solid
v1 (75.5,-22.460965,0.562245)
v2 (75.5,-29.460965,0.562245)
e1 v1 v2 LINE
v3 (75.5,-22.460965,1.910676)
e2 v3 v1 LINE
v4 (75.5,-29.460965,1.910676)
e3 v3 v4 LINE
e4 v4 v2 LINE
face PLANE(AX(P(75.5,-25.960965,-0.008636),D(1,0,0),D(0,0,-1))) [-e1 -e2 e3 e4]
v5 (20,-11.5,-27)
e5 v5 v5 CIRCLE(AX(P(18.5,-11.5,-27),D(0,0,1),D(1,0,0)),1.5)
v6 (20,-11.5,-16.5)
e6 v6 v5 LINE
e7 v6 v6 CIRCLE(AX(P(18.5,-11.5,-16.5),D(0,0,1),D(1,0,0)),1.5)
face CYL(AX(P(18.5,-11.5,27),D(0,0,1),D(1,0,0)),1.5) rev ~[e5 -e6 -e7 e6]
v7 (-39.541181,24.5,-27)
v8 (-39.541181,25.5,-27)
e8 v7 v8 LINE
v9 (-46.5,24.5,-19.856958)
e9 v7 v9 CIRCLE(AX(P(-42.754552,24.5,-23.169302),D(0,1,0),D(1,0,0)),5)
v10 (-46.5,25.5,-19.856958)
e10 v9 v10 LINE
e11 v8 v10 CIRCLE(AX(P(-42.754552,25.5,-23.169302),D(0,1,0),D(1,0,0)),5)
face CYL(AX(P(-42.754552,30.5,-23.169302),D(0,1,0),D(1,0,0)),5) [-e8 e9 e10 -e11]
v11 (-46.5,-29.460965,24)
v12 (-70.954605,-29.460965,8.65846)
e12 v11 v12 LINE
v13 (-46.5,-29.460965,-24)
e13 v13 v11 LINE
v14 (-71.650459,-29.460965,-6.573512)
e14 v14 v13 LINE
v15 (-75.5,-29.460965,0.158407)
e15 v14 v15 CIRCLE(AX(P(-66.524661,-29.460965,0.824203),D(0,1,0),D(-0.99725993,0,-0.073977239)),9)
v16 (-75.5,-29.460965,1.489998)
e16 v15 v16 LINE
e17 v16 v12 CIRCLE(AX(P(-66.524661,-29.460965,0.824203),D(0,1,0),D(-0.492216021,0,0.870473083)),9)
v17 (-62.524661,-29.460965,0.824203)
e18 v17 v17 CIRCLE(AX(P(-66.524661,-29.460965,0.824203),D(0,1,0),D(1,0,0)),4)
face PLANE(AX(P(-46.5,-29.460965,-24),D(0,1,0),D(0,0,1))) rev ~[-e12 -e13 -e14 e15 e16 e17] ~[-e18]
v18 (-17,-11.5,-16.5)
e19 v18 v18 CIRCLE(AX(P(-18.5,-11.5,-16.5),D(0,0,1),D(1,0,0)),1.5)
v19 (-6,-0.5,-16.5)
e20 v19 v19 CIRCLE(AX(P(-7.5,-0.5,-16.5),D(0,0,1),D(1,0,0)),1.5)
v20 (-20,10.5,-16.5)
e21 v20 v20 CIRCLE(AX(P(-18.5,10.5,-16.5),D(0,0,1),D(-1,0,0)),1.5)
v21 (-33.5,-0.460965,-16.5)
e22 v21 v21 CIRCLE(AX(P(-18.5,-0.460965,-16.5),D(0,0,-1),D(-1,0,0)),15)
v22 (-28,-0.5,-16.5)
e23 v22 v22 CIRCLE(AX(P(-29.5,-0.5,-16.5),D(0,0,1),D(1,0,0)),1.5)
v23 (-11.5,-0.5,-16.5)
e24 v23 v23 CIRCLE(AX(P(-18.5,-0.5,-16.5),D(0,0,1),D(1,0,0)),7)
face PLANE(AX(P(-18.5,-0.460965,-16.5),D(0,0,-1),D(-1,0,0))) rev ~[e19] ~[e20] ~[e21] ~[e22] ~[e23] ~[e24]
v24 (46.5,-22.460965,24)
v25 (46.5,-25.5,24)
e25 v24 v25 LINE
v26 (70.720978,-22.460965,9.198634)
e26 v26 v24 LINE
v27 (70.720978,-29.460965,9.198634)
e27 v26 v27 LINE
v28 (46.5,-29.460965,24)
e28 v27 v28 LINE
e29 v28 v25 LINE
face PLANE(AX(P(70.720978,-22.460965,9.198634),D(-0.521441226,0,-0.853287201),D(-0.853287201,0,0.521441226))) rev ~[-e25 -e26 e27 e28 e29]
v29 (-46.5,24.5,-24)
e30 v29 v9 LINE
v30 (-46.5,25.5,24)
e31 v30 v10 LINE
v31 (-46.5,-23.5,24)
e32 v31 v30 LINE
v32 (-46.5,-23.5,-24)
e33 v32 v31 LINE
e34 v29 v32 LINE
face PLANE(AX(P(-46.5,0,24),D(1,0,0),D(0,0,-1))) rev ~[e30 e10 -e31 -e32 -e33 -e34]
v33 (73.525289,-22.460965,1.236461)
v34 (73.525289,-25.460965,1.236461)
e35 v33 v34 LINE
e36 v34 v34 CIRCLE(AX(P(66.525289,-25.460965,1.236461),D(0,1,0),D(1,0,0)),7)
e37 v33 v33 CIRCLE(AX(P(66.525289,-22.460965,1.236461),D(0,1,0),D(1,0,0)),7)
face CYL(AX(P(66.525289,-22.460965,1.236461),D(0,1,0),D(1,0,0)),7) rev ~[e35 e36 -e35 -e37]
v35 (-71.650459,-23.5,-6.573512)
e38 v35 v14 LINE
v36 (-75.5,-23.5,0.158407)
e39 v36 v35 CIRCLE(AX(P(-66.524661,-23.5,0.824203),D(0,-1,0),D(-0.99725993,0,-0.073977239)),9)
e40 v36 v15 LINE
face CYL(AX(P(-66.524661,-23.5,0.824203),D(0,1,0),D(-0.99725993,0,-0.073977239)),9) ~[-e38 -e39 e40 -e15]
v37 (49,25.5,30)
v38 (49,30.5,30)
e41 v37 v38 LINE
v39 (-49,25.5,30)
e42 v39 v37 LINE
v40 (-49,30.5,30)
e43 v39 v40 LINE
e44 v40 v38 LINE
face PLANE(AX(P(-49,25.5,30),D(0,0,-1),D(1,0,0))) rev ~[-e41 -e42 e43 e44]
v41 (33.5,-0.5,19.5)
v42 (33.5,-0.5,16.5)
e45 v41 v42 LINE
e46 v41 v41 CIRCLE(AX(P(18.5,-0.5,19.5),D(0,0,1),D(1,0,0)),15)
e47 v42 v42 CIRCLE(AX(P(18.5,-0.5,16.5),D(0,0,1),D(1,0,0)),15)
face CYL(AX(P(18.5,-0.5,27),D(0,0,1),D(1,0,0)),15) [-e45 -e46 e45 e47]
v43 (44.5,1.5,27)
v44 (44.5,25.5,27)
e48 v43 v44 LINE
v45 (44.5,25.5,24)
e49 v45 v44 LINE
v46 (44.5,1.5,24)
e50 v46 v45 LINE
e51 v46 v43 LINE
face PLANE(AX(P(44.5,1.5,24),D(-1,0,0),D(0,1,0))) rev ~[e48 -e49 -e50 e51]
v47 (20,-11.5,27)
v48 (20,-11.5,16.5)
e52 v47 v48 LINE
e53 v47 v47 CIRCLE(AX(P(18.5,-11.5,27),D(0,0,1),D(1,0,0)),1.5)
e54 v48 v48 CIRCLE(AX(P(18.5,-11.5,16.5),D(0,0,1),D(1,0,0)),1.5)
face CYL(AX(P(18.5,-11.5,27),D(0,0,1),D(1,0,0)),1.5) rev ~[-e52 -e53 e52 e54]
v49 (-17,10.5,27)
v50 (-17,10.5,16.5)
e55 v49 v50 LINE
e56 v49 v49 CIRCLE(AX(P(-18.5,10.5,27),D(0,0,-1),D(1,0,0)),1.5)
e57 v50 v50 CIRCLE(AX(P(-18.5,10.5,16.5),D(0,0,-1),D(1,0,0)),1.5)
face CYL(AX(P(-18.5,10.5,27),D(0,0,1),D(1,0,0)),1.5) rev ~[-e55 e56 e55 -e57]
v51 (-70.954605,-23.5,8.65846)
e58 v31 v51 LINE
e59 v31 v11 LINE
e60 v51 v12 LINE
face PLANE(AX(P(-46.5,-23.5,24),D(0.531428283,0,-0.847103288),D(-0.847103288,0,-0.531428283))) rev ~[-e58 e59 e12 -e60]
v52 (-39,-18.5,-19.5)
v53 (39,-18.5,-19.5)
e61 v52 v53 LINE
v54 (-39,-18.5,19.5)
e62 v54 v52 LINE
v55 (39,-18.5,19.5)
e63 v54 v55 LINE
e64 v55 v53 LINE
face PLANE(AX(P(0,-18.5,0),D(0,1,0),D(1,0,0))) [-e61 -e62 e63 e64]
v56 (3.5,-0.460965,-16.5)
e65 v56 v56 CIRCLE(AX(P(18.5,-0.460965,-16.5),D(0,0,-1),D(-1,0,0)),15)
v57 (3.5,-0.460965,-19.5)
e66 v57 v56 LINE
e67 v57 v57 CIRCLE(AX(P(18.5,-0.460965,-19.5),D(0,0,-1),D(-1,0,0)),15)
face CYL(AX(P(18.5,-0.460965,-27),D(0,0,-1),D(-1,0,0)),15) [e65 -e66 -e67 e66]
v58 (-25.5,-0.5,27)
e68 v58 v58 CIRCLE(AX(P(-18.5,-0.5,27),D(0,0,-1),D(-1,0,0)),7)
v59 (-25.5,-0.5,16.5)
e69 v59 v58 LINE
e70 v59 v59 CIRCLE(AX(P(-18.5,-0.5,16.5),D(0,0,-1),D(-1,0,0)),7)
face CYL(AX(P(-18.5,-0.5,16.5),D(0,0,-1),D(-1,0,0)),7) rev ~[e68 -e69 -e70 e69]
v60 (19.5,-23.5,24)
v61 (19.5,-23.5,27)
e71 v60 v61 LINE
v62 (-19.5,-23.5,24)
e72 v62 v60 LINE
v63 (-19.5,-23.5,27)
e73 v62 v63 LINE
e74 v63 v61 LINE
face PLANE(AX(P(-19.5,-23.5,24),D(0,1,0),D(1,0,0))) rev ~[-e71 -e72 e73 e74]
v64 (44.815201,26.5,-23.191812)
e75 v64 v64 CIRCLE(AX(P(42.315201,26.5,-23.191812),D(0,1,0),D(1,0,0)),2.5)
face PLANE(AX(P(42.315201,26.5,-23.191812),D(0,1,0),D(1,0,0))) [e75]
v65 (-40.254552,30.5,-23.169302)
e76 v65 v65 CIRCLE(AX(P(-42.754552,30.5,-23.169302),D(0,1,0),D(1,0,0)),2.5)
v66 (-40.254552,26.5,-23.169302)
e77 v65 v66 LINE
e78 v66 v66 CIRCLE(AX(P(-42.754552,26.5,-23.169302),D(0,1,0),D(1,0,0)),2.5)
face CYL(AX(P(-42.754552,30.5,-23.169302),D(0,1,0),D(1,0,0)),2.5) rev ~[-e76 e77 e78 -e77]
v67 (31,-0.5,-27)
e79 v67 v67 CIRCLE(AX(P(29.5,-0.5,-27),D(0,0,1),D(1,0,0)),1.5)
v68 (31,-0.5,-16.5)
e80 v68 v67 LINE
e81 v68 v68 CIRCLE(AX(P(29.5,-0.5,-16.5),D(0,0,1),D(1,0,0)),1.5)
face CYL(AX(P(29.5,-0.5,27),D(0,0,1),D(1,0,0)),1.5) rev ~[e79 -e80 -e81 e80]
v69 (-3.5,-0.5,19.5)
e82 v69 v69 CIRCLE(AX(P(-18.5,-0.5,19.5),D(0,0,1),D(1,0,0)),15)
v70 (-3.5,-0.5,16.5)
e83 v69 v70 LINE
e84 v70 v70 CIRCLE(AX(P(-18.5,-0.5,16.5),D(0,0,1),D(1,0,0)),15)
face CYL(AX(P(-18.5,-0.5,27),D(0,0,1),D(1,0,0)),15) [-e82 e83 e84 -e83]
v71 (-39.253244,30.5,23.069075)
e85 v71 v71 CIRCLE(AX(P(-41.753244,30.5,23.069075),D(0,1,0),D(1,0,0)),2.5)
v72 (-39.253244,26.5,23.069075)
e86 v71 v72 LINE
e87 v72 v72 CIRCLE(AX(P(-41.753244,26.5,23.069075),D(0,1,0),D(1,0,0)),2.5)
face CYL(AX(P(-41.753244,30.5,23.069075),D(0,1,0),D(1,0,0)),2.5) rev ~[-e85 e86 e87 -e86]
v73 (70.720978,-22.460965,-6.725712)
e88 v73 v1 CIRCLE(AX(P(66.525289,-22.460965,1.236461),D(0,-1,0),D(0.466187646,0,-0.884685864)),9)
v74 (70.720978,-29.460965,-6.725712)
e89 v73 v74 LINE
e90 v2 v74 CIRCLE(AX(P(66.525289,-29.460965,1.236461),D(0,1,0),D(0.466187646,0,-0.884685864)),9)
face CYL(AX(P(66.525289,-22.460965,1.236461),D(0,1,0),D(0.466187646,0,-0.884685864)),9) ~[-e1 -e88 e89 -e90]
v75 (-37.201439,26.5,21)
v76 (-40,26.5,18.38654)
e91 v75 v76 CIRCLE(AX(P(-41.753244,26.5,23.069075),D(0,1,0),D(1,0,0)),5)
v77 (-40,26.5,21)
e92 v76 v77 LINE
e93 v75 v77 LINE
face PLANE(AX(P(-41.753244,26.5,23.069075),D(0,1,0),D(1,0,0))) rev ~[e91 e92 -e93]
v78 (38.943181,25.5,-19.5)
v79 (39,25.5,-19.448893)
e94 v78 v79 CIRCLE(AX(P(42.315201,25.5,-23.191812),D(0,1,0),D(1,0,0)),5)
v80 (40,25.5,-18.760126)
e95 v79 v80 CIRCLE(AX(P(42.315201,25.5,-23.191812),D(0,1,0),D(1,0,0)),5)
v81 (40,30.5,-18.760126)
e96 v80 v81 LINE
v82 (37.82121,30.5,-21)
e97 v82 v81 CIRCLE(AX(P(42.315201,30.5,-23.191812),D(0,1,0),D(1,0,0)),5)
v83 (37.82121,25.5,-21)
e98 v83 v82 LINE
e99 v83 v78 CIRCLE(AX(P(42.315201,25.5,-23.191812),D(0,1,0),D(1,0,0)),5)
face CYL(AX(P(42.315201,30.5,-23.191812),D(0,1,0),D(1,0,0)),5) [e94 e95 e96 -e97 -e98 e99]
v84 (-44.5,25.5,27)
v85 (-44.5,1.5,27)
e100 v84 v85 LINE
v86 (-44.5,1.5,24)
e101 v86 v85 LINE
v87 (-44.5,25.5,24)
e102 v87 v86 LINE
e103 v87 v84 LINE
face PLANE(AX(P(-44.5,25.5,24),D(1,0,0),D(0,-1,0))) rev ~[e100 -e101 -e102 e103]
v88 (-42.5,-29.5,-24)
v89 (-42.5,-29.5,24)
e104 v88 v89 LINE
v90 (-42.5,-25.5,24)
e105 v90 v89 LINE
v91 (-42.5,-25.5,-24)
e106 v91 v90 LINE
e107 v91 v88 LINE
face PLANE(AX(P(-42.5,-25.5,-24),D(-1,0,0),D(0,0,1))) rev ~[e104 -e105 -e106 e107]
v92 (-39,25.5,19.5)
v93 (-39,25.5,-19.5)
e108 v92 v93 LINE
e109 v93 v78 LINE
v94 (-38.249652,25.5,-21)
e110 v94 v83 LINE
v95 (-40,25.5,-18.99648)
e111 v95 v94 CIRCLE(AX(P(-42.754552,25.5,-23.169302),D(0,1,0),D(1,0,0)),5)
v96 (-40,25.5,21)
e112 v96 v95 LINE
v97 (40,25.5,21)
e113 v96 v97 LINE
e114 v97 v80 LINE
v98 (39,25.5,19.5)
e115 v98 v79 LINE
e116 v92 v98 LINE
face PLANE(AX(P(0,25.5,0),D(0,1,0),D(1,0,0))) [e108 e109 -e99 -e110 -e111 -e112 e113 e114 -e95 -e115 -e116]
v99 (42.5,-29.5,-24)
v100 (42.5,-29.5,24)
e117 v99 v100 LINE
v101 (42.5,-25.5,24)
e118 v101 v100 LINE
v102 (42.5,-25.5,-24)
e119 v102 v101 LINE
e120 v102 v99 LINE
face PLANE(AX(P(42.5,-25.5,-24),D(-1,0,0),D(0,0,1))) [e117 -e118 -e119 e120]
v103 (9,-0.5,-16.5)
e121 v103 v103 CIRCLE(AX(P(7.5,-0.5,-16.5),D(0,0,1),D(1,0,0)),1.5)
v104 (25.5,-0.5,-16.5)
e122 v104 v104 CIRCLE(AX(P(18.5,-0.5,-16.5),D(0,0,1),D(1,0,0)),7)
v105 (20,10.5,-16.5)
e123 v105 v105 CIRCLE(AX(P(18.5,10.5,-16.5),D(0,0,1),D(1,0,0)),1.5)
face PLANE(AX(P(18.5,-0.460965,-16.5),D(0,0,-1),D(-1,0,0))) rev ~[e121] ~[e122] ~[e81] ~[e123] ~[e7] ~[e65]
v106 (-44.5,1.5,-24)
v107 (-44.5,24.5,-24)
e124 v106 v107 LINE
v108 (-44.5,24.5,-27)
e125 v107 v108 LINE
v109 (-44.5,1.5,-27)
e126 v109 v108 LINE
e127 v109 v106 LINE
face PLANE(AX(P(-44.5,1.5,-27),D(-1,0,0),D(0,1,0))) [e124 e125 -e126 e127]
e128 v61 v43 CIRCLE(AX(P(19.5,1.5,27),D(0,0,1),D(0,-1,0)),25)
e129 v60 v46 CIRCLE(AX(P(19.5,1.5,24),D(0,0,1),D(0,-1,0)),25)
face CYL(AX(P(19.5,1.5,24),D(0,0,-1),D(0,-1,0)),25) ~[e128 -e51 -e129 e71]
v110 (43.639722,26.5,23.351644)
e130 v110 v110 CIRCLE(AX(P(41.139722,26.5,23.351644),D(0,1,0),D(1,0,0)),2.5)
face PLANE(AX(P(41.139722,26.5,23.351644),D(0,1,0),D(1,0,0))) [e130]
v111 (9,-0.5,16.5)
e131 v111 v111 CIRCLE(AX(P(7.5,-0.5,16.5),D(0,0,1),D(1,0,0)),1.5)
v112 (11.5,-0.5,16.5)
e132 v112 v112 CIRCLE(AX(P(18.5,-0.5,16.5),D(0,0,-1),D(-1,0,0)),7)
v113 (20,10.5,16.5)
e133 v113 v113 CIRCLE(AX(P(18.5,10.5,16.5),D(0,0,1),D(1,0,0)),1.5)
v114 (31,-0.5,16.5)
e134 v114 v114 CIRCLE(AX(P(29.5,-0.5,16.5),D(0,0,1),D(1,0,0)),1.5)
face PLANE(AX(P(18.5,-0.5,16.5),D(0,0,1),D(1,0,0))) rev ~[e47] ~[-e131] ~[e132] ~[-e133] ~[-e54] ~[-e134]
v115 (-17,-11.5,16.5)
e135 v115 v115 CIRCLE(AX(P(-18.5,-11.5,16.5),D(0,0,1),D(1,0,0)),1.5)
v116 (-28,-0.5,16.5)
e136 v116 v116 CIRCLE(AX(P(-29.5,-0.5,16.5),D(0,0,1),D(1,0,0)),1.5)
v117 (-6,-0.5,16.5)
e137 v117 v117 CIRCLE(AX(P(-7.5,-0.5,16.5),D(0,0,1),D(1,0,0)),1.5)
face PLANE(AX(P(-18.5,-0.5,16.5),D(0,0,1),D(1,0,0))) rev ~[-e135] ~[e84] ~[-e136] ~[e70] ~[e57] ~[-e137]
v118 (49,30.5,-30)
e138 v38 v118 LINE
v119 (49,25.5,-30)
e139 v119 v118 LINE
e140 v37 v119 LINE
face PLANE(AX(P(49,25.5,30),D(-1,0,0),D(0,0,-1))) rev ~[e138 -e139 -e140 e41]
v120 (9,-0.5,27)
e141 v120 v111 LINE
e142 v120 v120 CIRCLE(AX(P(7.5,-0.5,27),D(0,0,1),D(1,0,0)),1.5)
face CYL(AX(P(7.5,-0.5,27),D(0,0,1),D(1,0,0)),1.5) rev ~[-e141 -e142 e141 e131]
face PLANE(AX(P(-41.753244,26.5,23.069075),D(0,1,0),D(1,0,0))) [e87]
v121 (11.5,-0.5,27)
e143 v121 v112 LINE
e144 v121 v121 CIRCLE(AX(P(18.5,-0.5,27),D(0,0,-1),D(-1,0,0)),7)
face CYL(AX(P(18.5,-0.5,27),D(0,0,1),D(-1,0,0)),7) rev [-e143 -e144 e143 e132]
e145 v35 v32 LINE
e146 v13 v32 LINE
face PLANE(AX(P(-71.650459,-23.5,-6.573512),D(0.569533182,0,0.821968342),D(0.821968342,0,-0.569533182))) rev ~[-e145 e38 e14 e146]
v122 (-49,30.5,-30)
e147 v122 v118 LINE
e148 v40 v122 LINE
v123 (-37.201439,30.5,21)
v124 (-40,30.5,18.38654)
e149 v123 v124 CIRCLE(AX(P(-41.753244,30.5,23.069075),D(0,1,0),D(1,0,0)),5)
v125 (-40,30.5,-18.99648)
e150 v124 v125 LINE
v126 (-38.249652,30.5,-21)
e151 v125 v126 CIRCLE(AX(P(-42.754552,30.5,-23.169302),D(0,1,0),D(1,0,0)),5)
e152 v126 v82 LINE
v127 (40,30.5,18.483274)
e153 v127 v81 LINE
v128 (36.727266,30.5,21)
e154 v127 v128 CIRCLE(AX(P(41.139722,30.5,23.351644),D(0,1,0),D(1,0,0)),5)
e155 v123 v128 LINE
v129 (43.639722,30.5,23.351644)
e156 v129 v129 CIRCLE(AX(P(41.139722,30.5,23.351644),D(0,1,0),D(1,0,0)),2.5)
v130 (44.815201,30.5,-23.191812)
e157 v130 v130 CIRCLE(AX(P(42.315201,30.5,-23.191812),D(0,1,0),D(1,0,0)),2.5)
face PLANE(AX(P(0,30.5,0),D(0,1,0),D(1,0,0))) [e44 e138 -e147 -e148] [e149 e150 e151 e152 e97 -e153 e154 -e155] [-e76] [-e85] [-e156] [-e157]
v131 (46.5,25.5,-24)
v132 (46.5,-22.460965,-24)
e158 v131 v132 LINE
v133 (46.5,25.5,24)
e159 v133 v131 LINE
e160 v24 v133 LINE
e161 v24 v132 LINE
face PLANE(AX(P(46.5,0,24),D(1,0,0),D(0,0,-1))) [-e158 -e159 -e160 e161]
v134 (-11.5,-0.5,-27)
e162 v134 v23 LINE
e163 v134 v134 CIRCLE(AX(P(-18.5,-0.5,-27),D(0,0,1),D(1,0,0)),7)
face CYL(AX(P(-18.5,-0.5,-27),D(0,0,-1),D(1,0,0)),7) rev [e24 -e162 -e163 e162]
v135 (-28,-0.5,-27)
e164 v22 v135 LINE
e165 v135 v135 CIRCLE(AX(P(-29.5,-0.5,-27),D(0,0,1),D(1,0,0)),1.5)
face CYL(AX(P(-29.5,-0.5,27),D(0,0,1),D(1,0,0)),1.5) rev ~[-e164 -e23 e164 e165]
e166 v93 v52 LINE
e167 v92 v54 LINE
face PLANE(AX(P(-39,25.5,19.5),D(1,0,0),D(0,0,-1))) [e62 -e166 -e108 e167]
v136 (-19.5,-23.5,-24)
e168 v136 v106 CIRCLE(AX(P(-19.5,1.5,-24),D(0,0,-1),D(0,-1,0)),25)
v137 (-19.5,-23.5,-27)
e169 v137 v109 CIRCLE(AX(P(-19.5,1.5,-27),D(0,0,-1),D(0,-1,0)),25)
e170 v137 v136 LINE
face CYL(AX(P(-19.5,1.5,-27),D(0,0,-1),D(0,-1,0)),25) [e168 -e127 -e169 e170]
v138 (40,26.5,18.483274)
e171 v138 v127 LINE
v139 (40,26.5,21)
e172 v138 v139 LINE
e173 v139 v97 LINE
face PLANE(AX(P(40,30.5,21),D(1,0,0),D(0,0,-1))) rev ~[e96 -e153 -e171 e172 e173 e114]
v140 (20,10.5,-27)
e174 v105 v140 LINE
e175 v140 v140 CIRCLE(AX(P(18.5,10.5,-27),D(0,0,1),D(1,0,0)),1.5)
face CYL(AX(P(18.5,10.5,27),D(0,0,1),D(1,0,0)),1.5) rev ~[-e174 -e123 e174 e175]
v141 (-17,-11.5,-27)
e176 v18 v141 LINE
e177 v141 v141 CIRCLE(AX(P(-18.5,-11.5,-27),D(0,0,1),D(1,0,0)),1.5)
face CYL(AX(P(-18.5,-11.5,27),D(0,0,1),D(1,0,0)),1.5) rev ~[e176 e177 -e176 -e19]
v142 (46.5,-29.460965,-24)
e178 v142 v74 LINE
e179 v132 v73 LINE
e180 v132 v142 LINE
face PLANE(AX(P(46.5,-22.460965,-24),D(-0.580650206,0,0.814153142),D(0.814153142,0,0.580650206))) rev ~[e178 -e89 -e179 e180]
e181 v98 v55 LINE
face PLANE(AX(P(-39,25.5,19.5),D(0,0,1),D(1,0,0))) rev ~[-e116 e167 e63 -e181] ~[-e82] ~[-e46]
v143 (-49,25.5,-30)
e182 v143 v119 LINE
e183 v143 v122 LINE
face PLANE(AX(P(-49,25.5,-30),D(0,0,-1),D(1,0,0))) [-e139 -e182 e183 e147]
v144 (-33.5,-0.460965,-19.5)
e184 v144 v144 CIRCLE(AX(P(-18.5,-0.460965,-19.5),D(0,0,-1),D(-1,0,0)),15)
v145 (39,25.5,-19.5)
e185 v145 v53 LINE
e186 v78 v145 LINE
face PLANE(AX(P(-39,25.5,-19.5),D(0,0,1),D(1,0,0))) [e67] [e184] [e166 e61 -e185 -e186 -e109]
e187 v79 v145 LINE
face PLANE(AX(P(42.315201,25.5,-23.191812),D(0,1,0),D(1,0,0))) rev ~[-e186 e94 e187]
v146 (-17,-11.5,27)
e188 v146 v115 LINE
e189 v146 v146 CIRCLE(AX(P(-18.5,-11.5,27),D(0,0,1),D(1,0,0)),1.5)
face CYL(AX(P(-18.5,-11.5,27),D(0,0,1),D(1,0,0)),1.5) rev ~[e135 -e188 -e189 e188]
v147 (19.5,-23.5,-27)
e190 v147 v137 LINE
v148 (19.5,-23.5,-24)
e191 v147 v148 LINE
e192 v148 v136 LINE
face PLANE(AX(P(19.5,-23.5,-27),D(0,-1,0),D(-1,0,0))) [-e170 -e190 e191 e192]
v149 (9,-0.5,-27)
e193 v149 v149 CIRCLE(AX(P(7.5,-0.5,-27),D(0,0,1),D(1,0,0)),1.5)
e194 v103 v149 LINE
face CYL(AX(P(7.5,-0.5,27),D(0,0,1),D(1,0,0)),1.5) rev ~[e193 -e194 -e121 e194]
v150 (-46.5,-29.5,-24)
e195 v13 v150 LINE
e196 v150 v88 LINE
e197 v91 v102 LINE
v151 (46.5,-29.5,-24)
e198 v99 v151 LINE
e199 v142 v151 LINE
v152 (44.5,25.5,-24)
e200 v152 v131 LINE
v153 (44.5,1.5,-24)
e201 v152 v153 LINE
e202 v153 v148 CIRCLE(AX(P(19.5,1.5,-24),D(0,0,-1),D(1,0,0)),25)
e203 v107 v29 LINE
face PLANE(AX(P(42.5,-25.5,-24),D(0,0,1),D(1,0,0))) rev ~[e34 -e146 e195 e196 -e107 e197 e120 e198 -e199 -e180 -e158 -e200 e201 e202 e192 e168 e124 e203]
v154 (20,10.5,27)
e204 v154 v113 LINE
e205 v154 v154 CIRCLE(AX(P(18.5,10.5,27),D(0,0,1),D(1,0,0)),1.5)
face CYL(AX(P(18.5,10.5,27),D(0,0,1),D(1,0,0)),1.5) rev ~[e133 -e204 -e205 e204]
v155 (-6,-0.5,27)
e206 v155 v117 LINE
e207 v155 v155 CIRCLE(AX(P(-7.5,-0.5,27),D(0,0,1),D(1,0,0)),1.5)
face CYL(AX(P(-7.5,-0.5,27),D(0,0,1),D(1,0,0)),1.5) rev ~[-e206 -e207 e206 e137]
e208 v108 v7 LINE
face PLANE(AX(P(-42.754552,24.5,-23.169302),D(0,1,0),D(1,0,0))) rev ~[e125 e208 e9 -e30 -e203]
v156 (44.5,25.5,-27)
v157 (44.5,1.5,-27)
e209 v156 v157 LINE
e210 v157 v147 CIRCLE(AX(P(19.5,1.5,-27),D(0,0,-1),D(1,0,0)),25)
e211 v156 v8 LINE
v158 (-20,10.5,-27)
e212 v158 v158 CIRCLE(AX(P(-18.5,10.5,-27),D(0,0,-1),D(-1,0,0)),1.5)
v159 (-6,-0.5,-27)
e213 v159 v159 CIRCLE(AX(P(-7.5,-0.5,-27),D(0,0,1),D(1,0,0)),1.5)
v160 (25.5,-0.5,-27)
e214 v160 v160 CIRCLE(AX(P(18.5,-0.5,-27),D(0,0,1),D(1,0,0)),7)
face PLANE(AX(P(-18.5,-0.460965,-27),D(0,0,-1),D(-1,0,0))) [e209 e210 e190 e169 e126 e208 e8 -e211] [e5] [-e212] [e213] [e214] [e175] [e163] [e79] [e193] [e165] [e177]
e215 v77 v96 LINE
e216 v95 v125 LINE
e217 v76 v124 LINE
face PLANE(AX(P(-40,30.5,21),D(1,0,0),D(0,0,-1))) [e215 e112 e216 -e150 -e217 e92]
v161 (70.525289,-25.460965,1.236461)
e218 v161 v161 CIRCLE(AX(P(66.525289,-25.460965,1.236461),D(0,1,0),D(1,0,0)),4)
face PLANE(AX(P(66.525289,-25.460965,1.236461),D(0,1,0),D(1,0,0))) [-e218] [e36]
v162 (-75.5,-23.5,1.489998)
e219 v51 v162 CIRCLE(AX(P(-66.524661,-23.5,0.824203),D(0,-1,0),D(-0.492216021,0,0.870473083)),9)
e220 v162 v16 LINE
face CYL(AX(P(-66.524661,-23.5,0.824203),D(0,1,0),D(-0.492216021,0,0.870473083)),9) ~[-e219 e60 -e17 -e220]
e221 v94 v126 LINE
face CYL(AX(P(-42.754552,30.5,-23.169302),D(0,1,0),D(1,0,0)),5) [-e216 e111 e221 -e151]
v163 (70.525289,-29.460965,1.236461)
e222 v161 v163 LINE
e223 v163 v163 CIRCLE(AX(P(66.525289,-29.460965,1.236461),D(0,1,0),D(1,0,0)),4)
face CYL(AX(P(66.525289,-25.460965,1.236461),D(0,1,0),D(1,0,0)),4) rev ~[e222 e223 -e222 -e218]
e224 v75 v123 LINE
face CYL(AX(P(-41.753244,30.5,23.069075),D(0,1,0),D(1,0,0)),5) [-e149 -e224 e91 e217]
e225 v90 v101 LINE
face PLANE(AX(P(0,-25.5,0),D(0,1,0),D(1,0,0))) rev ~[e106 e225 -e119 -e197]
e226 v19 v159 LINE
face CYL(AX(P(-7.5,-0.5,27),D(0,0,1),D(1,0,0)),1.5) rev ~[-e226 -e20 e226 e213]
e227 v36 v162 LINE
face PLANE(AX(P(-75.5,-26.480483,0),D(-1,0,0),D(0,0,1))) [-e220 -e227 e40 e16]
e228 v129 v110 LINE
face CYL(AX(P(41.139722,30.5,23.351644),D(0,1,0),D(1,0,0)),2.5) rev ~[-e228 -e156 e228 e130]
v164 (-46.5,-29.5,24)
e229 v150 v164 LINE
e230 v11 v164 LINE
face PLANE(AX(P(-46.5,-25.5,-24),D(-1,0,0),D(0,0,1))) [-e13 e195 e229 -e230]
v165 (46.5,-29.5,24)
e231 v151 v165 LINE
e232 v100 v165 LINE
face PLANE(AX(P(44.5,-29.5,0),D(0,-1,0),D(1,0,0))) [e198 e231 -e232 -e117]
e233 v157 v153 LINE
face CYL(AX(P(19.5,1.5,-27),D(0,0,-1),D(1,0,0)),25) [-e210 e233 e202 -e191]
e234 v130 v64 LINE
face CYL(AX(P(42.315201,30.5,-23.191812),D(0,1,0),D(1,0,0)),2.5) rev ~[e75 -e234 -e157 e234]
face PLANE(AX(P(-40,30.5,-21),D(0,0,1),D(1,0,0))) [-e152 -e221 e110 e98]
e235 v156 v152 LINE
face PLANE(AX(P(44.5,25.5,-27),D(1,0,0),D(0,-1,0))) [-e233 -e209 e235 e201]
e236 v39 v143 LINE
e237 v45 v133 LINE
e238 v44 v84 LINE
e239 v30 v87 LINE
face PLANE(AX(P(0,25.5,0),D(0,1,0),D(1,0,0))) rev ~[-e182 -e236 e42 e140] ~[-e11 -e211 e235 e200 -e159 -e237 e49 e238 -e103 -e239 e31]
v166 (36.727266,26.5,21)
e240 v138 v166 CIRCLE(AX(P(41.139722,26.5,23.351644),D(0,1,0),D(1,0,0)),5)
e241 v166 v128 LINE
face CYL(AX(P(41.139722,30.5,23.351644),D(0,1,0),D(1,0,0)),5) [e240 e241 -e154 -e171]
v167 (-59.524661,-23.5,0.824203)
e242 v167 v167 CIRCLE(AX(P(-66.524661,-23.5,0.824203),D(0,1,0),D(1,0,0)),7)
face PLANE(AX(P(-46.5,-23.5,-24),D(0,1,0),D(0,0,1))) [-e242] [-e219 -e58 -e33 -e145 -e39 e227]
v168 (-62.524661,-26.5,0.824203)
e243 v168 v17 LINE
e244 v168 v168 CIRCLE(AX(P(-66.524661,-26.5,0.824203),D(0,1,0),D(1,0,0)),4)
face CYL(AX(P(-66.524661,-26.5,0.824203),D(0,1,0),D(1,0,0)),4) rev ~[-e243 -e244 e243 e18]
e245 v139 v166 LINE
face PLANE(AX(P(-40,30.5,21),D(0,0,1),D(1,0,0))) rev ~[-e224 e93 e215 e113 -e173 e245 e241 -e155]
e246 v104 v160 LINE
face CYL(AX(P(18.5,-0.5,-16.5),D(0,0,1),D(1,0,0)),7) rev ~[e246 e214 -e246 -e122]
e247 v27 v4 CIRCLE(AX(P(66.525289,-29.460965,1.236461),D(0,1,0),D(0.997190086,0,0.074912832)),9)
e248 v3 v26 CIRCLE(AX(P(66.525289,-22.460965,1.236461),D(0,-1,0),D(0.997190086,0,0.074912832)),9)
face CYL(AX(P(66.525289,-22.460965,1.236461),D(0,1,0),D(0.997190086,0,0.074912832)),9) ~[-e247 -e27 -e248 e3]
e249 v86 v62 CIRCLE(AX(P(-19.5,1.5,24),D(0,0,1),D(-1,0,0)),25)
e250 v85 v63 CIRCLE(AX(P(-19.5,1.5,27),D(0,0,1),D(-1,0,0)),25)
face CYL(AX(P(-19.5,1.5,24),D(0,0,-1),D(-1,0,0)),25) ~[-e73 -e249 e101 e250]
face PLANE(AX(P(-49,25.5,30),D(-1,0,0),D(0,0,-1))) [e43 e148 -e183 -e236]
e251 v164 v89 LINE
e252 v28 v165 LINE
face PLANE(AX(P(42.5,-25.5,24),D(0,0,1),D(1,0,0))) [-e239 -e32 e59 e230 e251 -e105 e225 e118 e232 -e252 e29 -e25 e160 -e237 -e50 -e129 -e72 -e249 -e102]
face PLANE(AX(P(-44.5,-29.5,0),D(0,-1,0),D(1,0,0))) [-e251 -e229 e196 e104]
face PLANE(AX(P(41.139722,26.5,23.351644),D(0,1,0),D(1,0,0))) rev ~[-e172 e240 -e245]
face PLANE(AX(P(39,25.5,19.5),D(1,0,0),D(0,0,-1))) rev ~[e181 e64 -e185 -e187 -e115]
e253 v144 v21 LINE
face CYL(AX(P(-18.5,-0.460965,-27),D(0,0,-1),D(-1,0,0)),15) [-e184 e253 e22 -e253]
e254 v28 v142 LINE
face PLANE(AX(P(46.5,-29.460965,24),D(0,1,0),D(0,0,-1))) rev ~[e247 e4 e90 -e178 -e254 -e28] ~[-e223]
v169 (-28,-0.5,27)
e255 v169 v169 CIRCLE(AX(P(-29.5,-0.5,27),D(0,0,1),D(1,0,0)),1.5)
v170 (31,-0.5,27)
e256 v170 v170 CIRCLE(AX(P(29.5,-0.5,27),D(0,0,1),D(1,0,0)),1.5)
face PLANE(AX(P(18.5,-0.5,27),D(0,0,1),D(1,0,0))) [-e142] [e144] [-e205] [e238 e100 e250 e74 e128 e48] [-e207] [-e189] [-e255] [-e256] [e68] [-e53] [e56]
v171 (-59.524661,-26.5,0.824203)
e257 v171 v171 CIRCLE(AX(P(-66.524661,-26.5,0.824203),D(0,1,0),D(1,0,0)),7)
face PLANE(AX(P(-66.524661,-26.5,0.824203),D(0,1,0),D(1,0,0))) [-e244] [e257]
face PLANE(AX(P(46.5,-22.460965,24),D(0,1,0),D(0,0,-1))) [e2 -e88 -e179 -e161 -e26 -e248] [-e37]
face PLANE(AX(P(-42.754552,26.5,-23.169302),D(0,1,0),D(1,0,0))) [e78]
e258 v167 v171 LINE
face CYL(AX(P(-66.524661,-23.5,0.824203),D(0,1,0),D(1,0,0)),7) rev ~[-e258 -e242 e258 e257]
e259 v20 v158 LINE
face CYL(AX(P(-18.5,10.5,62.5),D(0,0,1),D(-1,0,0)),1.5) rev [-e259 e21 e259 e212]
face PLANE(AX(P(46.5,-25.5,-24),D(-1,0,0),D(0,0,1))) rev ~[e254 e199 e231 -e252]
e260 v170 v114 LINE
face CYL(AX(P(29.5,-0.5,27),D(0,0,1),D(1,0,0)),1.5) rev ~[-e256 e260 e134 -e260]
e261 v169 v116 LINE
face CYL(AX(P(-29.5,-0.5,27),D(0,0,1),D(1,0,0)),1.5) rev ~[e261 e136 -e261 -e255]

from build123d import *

# Parameters (mm, degrees)
SKETCH1_W            = 93
SKETCH1_H            = 48
BOSS_EXTRUDE1_DEPTH  = 25.5
BOSS_EXTRUDE4_DEPTH  = 3
BOSS_EXTRUDE5_START  = 3
BOSS_EXTRUDE5_DEPTH  = 3
SKETCH5_W            = 78
SKETCH5_H            = 39
CUT_EXTRUDE1_DEPTH   = 44
SKETCH6_W            = 48.017272351
SKETCH6_H            = 7
BOSS_EXTRUDE6_DEPTH  = 29
SKETCH7_W            = 48
SKETCH7_H            = 5.960965096
BOSS_EXTRUDE7_DEPTH  = 29
CUT_EXTRUDE2_DEPTH   = 29
CUT_EXTRUDE3_DEPTH   = 29
SKETCH10_R           = 15
BOSS_EXTRUDE8_DEPTH  = 10.5
SKETCH11_R           = 15
BOSS_EXTRUDE9_DEPTH  = 10.5
SKETCH12_W           = 4
SKETCH12_H           = 48
BOSS_EXTRUDE10_DEPTH = 4
SKETCH13_W           = 4
SKETCH13_H           = 48
BOSS_EXTRUDE11_DEPTH = 4
SKETCH14_R           = 15
BOSS_EXTRUDE12_DEPTH = 10.5
SKETCH15_R           = 15
BOSS_EXTRUDE13_DEPTH = 10.5
SKETCH17_R           = 7
CUT_EXTRUDE4_DEPTH   = 10.5
CUT_EXTRUDE5_START   = -10.5
SKETCH18_R           = 7
CUT_EXTRUDE5_DEPTH   = 10.5
SKETCH19_R           = 7
CUT_EXTRUDE6_DEPTH   = 10.5
CUT_EXTRUDE7_START   = -10.5
SKETCH20_R           = 7
CUT_EXTRUDE7_DEPTH   = 10.5
SKETCH21_R           = 1.5
CUT_EXTRUDE8_DEPTH   = 10.5
SKETCH22_R           = 1.5
CUT_EXTRUDE9_DEPTH   = 89.5
SKETCH23_R           = 1.5
CUT_EXTRUDE10_DEPTH  = 89.5
SKETCH24_R           = 1.5
CUT_EXTRUDE11_DEPTH  = 89.5
CUT_EXTRUDE12_START  = -89.5
SKETCH25_R           = 1.5
CUT_EXTRUDE12_DEPTH  = 89.5
SKETCH26_R           = 1.5
CUT_EXTRUDE13_DEPTH  = 89.5
SKETCH27_R           = 1.5
CUT_EXTRUDE14_DEPTH  = 89.5
SKETCH28_R           = 1.5
CUT_EXTRUDE15_DEPTH  = 89.5
SKETCH29_R           = 1.5
CUT_EXTRUDE16_DEPTH  = 89.5
SKETCH30_W           = 98
SKETCH30_H           = 60
BOSS_EXTRUDE14_DEPTH = 5
SKETCH31_W           = 80
SKETCH31_H           = 42
CUT_EXTRUDE18_DEPTH  = 5
SKETCH32_R           = 5
BOSS_EXTRUDE16_DEPTH = 4
SKETCH33_R           = 5
BOSS_EXTRUDE18_DEPTH = 6
SKETCH34_R           = 5
BOSS_EXTRUDE19_DEPTH = 5
SKETCH35_R           = 5
BOSS_EXTRUDE20_DEPTH = 4
SKETCH36_R           = 2.5
CUT_EXTRUDE19_DEPTH  = 4
SKETCH37_R           = 2.5
CUT_EXTRUDE20_DEPTH  = 4
SKETCH38_R           = 2.5
CUT_EXTRUDE21_DEPTH  = 4
SKETCH39_R           = 2.5
CUT_EXTRUDE22_DEPTH  = 4
SKETCH40_R           = 7
CUT_EXTRUDE23_DEPTH  = 3
SKETCH41_R           = 7
CUT_EXTRUDE24_DEPTH  = 3
SKETCH42_R           = 4
CUT_EXTRUDE25_DEPTH  = 3
SKETCH43_R           = 4
CUT_EXTRUDE26_DEPTH  = 4


with BuildPart() as part:
    # Sketch1 → Boss-Extrude1 (new, symmetric)
    with BuildSketch(Plane(origin=(0, 0, 0), x_dir=(1, 0, 0), z_dir=(0, 1, 0))):
        Rectangle(SKETCH1_W, SKETCH1_H)
    extrude(amount=BOSS_EXTRUDE1_DEPTH, both=True)

    # Sketch3 → Boss-Extrude4 (add)
    with BuildSketch(Plane.XY.offset(24)):
        with BuildLine():
            Line((-44.5, 25.5), (-44.5, 1.5))
            ThreePointArc((-44.5, 1.5), (-37.17766953, -16.17766953), (-19.5, -23.5))
            Line((-19.5, -23.5), (19.5, -23.5))
            ThreePointArc((19.5, -23.5), (37.17766953, -16.17766953), (44.5, 1.5))
            Line((44.5, 1.5), (44.5, 25.5))
            Line((44.5, 25.5), (-44.5, 25.5))
        make_face()
    extrude(amount=BOSS_EXTRUDE4_DEPTH)

    # Sketch4 → Boss-Extrude5 (add)
    with BuildSketch(Plane(origin=(0, 0, -24), x_dir=(-1, 0, 0), z_dir=(0, 0, -1)).offset(BOSS_EXTRUDE5_START)):
        with BuildLine():
            Line((-44.5, 25.5), (-44.5, 1.5))
            ThreePointArc((-44.5, 1.5), (-37.17766953, -16.17766953), (-19.5, -23.5))
            Line((-19.5, -23.5), (19.5, -23.5))
            ThreePointArc((19.5, -23.5), (37.17766953, -16.17766953), (44.5, 1.5))
            Line((44.5, 1.5), (44.5, 25.5))
            Line((44.5, 25.5), (-44.5, 25.5))
        make_face()
    extrude(amount=-BOSS_EXTRUDE5_DEPTH)

    # Sketch5 → Cut-Extrude1 (cut)
    with BuildSketch(Plane(origin=(0, 25.5, 0), x_dir=(1, 0, 0), z_dir=(0, 1, 0))):
        Rectangle(SKETCH5_W, SKETCH5_H)
    extrude(amount=-CUT_EXTRUDE1_DEPTH, mode=Mode.SUBTRACT)

    # Sketch6 → Boss-Extrude6 (add)
    with BuildSketch(Plane(origin=(46.5, 0, 0), x_dir=(0, 0, -1), z_dir=(1, 0, 0))):
        with Locations((0.008636176, -25.960965096)):
            Rectangle(SKETCH6_W, SKETCH6_H)
    extrude(amount=BOSS_EXTRUDE6_DEPTH)

    # Sketch7 → Boss-Extrude7 (add)
    with BuildSketch(Plane.ZY.offset(46.5)):
        with Locations((0, -26.480482548)):
            Rectangle(SKETCH7_W, SKETCH7_H)
    extrude(amount=BOSS_EXTRUDE7_DEPTH)

    # Sketch8 → Cut-Extrude2 (cut)
    with BuildSketch(Plane(origin=(0, -22.460965096, 0), x_dir=(1, 0, 0), z_dir=(0, 1, 0))):
        with BuildLine():
            Line((75.5, -24), (75.5, -1.910676326))
            ThreePointArc((75.5, -1.910676326), (74.051472635, -6.171697745), (70.72097804, -9.198633622))
            Line((70.72097804, -9.198633622), (46.5, -24))
            Line((46.5, -24), (75.5, -24))
        make_face()
        with BuildLine():
            Line((46.5, 24), (70.72097804, 6.725711938))
            ThreePointArc((70.72097804, 6.725711938), (74.051472635, 3.698776061), (75.5, -0.562245358))
            Line((75.5, -0.562245358), (75.5, 24.017272351))
            Line((75.5, 24.017272351), (46.5, 24.017272351))
            Line((46.5, 24.017272351), (46.5, 24))
        make_face()
    extrude(amount=-CUT_EXTRUDE2_DEPTH, mode=Mode.SUBTRACT)

    # Sketch9 → Cut-Extrude3 (cut)
    with BuildSketch(Plane(origin=(0, -23.5, 0), x_dir=(1, 0, 0), z_dir=(0, 1, 0))):
        with BuildLine():
            ThreePointArc((-75.5, -0.15840749), (-74.337484046, 3.643435469), (-71.650459264, 6.57351244))
            Line((-71.650459264, 6.57351244), (-46.5, 24))
            Line((-46.5, 24), (-75.5, 24))
            Line((-75.5, 24), (-75.5, -0.15840749))
        make_face()
        with BuildLine():
            Line((-46.5, -24), (-70.954604818, -8.658460386))
            ThreePointArc((-70.954604818, -8.658460386), (-74.125458012, -5.643733646), (-75.5, -1.489997784))
            Line((-75.5, -1.489997784), (-75.5, -24))
            Line((-75.5, -24), (-46.5, -24))
        make_face()
    extrude(amount=-CUT_EXTRUDE3_DEPTH, mode=Mode.SUBTRACT)

    # Sketch10 → Boss-Extrude8 (add)
    with BuildSketch(Plane(origin=(0, 0, -27), x_dir=(-1, 0, 0), z_dir=(0, 0, -1))):
        with Locations((-18.5, -0.460965096)):
            Circle(SKETCH10_R)
    extrude(amount=-BOSS_EXTRUDE8_DEPTH)

    # Sketch11 → Boss-Extrude9 (add)
    with BuildSketch(Plane(origin=(0, 0, -27), x_dir=(-1, 0, 0), z_dir=(0, 0, -1))):
        with Locations((18.5, -0.460965096)):
            Circle(SKETCH11_R)
    extrude(amount=-BOSS_EXTRUDE9_DEPTH)

    # Sketch12 → Boss-Extrude10 (add)
    with BuildSketch(Plane.XZ.offset(25.5)):
        with Locations((-44.5, 0)):
            Rectangle(SKETCH12_W, SKETCH12_H)
    extrude(amount=BOSS_EXTRUDE10_DEPTH)

    # Sketch13 → Boss-Extrude11 (add)
    with BuildSketch(Plane.XZ.offset(25.5)):
        with Locations((44.5, 0)):
            Rectangle(SKETCH13_W, SKETCH13_H)
    extrude(amount=BOSS_EXTRUDE11_DEPTH)

    # Sketch14 → Boss-Extrude12 (add)
    with BuildSketch(Plane.XY.offset(27)):
        with Locations((-18.5, -0.5)):
            Circle(SKETCH14_R)
    extrude(amount=-BOSS_EXTRUDE12_DEPTH)

    # Sketch15 → Boss-Extrude13 (add)
    with BuildSketch(Plane.XY.offset(27)):
        with Locations((18.5, -0.5)):
            Circle(SKETCH15_R)
    extrude(amount=-BOSS_EXTRUDE13_DEPTH)

    # Sketch17 → Cut-Extrude4 (cut)
    with BuildSketch(Plane(origin=(0, 0, 16.5), x_dir=(-1, 0, 0), z_dir=(0, 0, -1))):
        with Locations((18.5, -0.5)):
            Circle(SKETCH17_R)
    extrude(amount=-CUT_EXTRUDE4_DEPTH, mode=Mode.SUBTRACT)

    # Sketch18 → Cut-Extrude5 (cut)
    with BuildSketch(Plane.XY.offset(-16.5).offset(CUT_EXTRUDE5_START)):
        with Locations((-18.5, -0.5)):
            Circle(SKETCH18_R)
    extrude(amount=CUT_EXTRUDE5_DEPTH, mode=Mode.SUBTRACT)

    # Sketch19 → Cut-Extrude6 (cut)
    with BuildSketch(Plane.XY.offset(-16.5)):
        with Locations((18.5, -0.5)):
            Circle(SKETCH19_R)
    extrude(amount=-CUT_EXTRUDE6_DEPTH, mode=Mode.SUBTRACT)

    # Sketch20 → Cut-Extrude7 (cut)
    with BuildSketch(Plane(origin=(0, 0, 16.5), x_dir=(-1, 0, 0), z_dir=(0, 0, -1)).offset(CUT_EXTRUDE7_START)):
        with Locations((-18.5, -0.5)):
            Circle(SKETCH20_R)
    extrude(amount=CUT_EXTRUDE7_DEPTH, mode=Mode.SUBTRACT)

    # Sketch21 → Cut-Extrude8 (cut)
    with BuildSketch(Plane.XY.offset(27)):
        with Locations((-18.5, 10.5)):
            Circle(SKETCH21_R)
    extrude(amount=-CUT_EXTRUDE8_DEPTH, mode=Mode.SUBTRACT)

    # Sketch22 → Cut-Extrude9 (cut)
    with BuildSketch(Plane.XY.offset(27)):
        with Locations((-7.5, -0.5)):
            Circle(SKETCH22_R)
    extrude(amount=-CUT_EXTRUDE9_DEPTH, mode=Mode.SUBTRACT)

    # Sketch23 → Cut-Extrude10 (cut)
    with BuildSketch(Plane.XY.offset(27)):
        with Locations((-18.5, -11.5)):
            Circle(SKETCH23_R)
    extrude(amount=-CUT_EXTRUDE10_DEPTH, mode=Mode.SUBTRACT)

    # Sketch24 → Cut-Extrude11 (cut)
    with BuildSketch(Plane.XY.offset(27)):
        with Locations((-29.5, -0.5)):
            Circle(SKETCH24_R)
    extrude(amount=-CUT_EXTRUDE11_DEPTH, mode=Mode.SUBTRACT)

    # Sketch25 → Cut-Extrude12 (cut)
    with BuildSketch(Plane(origin=(0, 0, -27), x_dir=(-1, 0, 0), z_dir=(0, 0, -1)).offset(CUT_EXTRUDE12_START)):
        with Locations((18.5, 10.5)):
            Circle(SKETCH25_R)
    extrude(amount=CUT_EXTRUDE12_DEPTH, mode=Mode.SUBTRACT)

    # Sketch26 → Cut-Extrude13 (cut)
    with BuildSketch(Plane.XY.offset(27)):
        with Locations((18.5, 10.5)):
            Circle(SKETCH26_R)
    extrude(amount=-CUT_EXTRUDE13_DEPTH, mode=Mode.SUBTRACT)

    # Sketch27 → Cut-Extrude14 (cut)
    with BuildSketch(Plane.XY.offset(27)):
        with Locations((29.5, -0.5)):
            Circle(SKETCH27_R)
    extrude(amount=-CUT_EXTRUDE14_DEPTH, mode=Mode.SUBTRACT)

    # Sketch28 → Cut-Extrude15 (cut)
    with BuildSketch(Plane.XY.offset(27)):
        with Locations((7.5, -0.5)):
            Circle(SKETCH28_R)
    extrude(amount=-CUT_EXTRUDE15_DEPTH, mode=Mode.SUBTRACT)

    # Sketch29 → Cut-Extrude16 (cut)
    with BuildSketch(Plane.XY.offset(27)):
        with Locations((18.5, -11.5)):
            Circle(SKETCH29_R)
    extrude(amount=-CUT_EXTRUDE16_DEPTH, mode=Mode.SUBTRACT)

    # Sketch30 → Boss-Extrude14 (add)
    with BuildSketch(Plane(origin=(0, 25.5, 0), x_dir=(1, 0, 0), z_dir=(0, 1, 0))):
        Rectangle(SKETCH30_W, SKETCH30_H)
    extrude(amount=BOSS_EXTRUDE14_DEPTH)

    # Sketch31 → Cut-Extrude18 (cut)
    with BuildSketch(Plane(origin=(0, 30.5, 0), x_dir=(1, 0, 0), z_dir=(0, 1, 0))):
        Rectangle(SKETCH31_W, SKETCH31_H)
    extrude(amount=-CUT_EXTRUDE18_DEPTH, mode=Mode.SUBTRACT)

    # Sketch32 → Boss-Extrude16 (add)
    with BuildSketch(Plane(origin=(0, 30.5, 0), x_dir=(1, 0, 0), z_dir=(0, 1, 0))):
        with Locations((-41.75324397, -23.069074946)):
            Circle(SKETCH32_R)
    extrude(amount=-BOSS_EXTRUDE16_DEPTH)

    # Sketch33 → Boss-Extrude18 (add)
    with BuildSketch(Plane(origin=(0, 30.5, 0), x_dir=(1, 0, 0), z_dir=(0, 1, 0))):
        with Locations((-42.754552125, 23.169301943)):
            Circle(SKETCH33_R)
    extrude(amount=-BOSS_EXTRUDE18_DEPTH)

    # Sketch34 → Boss-Extrude19 (add)
    with BuildSketch(Plane(origin=(0, 30.5, 0), x_dir=(1, 0, 0), z_dir=(0, 1, 0))):
        with Locations((42.315201087, 23.191812252)):
            Circle(SKETCH34_R)
    extrude(amount=-BOSS_EXTRUDE19_DEPTH)

    # Sketch35 → Boss-Extrude20 (add)
    with BuildSketch(Plane(origin=(0, 30.5, 0), x_dir=(1, 0, 0), z_dir=(0, 1, 0))):
        with Locations((41.139722354, -23.351644465)):
            Circle(SKETCH35_R)
    extrude(amount=-BOSS_EXTRUDE20_DEPTH)

    # Sketch36 → Cut-Extrude19 (cut)
    with BuildSketch(Plane(origin=(0, 30.5, 0), x_dir=(1, 0, 0), z_dir=(0, 1, 0))):
        with Locations((-42.754552125, 23.169301943)):
            Circle(SKETCH36_R)
    extrude(amount=-CUT_EXTRUDE19_DEPTH, mode=Mode.SUBTRACT)

    # Sketch37 → Cut-Extrude20 (cut)
    with BuildSketch(Plane(origin=(0, 30.5, 0), x_dir=(1, 0, 0), z_dir=(0, 1, 0))):
        with Locations((-41.75324397, -23.069074946)):
            Circle(SKETCH37_R)
    extrude(amount=-CUT_EXTRUDE20_DEPTH, mode=Mode.SUBTRACT)

    # Sketch38 → Cut-Extrude21 (cut)
    with BuildSketch(Plane(origin=(0, 30.5, 0), x_dir=(1, 0, 0), z_dir=(0, 1, 0))):
        with Locations((41.139722354, -23.351644465)):
            Circle(SKETCH38_R)
    extrude(amount=-CUT_EXTRUDE21_DEPTH, mode=Mode.SUBTRACT)

    # Sketch39 → Cut-Extrude22 (cut)
    with BuildSketch(Plane(origin=(0, 30.5, 0), x_dir=(1, 0, 0), z_dir=(0, 1, 0))):
        with Locations((42.315201087, 23.191812252)):
            Circle(SKETCH39_R)
    extrude(amount=-CUT_EXTRUDE22_DEPTH, mode=Mode.SUBTRACT)

    # Sketch40 → Cut-Extrude23 (cut)
    with BuildSketch(Plane(origin=(0, -22.460965096, 0), x_dir=(1, 0, 0), z_dir=(0, 1, 0))):
        with Locations((66.525289226, -1.236460842)):
            Circle(SKETCH40_R)
    extrude(amount=-CUT_EXTRUDE23_DEPTH, mode=Mode.SUBTRACT)

    # Sketch41 → Cut-Extrude24 (cut)
    with BuildSketch(Plane(origin=(0, -23.5, 0), x_dir=(1, 0, 0), z_dir=(0, 1, 0))):
        with Locations((-66.524660629, -0.824202637)):
            Circle(SKETCH41_R)
    extrude(amount=-CUT_EXTRUDE24_DEPTH, mode=Mode.SUBTRACT)

    # Sketch42 → Cut-Extrude25 (cut)
    with BuildSketch(Plane(origin=(0, -26.5, 0), x_dir=(1, 0, 0), z_dir=(0, 1, 0))):
        with Locations((-66.524660629, -0.824202637)):
            Circle(SKETCH42_R)
    extrude(amount=-CUT_EXTRUDE25_DEPTH, mode=Mode.SUBTRACT)

    # Sketch43 → Cut-Extrude26 (cut)
    with BuildSketch(Plane(origin=(0, -25.460965096, 0), x_dir=(1, 0, 0), z_dir=(0, 1, 0))):
        with Locations((66.525289226, -1.236460842)):
            Circle(SKETCH43_R)
    extrude(amount=-CUT_EXTRUDE26_DEPTH, mode=Mode.SUBTRACT)


solid = part.part
